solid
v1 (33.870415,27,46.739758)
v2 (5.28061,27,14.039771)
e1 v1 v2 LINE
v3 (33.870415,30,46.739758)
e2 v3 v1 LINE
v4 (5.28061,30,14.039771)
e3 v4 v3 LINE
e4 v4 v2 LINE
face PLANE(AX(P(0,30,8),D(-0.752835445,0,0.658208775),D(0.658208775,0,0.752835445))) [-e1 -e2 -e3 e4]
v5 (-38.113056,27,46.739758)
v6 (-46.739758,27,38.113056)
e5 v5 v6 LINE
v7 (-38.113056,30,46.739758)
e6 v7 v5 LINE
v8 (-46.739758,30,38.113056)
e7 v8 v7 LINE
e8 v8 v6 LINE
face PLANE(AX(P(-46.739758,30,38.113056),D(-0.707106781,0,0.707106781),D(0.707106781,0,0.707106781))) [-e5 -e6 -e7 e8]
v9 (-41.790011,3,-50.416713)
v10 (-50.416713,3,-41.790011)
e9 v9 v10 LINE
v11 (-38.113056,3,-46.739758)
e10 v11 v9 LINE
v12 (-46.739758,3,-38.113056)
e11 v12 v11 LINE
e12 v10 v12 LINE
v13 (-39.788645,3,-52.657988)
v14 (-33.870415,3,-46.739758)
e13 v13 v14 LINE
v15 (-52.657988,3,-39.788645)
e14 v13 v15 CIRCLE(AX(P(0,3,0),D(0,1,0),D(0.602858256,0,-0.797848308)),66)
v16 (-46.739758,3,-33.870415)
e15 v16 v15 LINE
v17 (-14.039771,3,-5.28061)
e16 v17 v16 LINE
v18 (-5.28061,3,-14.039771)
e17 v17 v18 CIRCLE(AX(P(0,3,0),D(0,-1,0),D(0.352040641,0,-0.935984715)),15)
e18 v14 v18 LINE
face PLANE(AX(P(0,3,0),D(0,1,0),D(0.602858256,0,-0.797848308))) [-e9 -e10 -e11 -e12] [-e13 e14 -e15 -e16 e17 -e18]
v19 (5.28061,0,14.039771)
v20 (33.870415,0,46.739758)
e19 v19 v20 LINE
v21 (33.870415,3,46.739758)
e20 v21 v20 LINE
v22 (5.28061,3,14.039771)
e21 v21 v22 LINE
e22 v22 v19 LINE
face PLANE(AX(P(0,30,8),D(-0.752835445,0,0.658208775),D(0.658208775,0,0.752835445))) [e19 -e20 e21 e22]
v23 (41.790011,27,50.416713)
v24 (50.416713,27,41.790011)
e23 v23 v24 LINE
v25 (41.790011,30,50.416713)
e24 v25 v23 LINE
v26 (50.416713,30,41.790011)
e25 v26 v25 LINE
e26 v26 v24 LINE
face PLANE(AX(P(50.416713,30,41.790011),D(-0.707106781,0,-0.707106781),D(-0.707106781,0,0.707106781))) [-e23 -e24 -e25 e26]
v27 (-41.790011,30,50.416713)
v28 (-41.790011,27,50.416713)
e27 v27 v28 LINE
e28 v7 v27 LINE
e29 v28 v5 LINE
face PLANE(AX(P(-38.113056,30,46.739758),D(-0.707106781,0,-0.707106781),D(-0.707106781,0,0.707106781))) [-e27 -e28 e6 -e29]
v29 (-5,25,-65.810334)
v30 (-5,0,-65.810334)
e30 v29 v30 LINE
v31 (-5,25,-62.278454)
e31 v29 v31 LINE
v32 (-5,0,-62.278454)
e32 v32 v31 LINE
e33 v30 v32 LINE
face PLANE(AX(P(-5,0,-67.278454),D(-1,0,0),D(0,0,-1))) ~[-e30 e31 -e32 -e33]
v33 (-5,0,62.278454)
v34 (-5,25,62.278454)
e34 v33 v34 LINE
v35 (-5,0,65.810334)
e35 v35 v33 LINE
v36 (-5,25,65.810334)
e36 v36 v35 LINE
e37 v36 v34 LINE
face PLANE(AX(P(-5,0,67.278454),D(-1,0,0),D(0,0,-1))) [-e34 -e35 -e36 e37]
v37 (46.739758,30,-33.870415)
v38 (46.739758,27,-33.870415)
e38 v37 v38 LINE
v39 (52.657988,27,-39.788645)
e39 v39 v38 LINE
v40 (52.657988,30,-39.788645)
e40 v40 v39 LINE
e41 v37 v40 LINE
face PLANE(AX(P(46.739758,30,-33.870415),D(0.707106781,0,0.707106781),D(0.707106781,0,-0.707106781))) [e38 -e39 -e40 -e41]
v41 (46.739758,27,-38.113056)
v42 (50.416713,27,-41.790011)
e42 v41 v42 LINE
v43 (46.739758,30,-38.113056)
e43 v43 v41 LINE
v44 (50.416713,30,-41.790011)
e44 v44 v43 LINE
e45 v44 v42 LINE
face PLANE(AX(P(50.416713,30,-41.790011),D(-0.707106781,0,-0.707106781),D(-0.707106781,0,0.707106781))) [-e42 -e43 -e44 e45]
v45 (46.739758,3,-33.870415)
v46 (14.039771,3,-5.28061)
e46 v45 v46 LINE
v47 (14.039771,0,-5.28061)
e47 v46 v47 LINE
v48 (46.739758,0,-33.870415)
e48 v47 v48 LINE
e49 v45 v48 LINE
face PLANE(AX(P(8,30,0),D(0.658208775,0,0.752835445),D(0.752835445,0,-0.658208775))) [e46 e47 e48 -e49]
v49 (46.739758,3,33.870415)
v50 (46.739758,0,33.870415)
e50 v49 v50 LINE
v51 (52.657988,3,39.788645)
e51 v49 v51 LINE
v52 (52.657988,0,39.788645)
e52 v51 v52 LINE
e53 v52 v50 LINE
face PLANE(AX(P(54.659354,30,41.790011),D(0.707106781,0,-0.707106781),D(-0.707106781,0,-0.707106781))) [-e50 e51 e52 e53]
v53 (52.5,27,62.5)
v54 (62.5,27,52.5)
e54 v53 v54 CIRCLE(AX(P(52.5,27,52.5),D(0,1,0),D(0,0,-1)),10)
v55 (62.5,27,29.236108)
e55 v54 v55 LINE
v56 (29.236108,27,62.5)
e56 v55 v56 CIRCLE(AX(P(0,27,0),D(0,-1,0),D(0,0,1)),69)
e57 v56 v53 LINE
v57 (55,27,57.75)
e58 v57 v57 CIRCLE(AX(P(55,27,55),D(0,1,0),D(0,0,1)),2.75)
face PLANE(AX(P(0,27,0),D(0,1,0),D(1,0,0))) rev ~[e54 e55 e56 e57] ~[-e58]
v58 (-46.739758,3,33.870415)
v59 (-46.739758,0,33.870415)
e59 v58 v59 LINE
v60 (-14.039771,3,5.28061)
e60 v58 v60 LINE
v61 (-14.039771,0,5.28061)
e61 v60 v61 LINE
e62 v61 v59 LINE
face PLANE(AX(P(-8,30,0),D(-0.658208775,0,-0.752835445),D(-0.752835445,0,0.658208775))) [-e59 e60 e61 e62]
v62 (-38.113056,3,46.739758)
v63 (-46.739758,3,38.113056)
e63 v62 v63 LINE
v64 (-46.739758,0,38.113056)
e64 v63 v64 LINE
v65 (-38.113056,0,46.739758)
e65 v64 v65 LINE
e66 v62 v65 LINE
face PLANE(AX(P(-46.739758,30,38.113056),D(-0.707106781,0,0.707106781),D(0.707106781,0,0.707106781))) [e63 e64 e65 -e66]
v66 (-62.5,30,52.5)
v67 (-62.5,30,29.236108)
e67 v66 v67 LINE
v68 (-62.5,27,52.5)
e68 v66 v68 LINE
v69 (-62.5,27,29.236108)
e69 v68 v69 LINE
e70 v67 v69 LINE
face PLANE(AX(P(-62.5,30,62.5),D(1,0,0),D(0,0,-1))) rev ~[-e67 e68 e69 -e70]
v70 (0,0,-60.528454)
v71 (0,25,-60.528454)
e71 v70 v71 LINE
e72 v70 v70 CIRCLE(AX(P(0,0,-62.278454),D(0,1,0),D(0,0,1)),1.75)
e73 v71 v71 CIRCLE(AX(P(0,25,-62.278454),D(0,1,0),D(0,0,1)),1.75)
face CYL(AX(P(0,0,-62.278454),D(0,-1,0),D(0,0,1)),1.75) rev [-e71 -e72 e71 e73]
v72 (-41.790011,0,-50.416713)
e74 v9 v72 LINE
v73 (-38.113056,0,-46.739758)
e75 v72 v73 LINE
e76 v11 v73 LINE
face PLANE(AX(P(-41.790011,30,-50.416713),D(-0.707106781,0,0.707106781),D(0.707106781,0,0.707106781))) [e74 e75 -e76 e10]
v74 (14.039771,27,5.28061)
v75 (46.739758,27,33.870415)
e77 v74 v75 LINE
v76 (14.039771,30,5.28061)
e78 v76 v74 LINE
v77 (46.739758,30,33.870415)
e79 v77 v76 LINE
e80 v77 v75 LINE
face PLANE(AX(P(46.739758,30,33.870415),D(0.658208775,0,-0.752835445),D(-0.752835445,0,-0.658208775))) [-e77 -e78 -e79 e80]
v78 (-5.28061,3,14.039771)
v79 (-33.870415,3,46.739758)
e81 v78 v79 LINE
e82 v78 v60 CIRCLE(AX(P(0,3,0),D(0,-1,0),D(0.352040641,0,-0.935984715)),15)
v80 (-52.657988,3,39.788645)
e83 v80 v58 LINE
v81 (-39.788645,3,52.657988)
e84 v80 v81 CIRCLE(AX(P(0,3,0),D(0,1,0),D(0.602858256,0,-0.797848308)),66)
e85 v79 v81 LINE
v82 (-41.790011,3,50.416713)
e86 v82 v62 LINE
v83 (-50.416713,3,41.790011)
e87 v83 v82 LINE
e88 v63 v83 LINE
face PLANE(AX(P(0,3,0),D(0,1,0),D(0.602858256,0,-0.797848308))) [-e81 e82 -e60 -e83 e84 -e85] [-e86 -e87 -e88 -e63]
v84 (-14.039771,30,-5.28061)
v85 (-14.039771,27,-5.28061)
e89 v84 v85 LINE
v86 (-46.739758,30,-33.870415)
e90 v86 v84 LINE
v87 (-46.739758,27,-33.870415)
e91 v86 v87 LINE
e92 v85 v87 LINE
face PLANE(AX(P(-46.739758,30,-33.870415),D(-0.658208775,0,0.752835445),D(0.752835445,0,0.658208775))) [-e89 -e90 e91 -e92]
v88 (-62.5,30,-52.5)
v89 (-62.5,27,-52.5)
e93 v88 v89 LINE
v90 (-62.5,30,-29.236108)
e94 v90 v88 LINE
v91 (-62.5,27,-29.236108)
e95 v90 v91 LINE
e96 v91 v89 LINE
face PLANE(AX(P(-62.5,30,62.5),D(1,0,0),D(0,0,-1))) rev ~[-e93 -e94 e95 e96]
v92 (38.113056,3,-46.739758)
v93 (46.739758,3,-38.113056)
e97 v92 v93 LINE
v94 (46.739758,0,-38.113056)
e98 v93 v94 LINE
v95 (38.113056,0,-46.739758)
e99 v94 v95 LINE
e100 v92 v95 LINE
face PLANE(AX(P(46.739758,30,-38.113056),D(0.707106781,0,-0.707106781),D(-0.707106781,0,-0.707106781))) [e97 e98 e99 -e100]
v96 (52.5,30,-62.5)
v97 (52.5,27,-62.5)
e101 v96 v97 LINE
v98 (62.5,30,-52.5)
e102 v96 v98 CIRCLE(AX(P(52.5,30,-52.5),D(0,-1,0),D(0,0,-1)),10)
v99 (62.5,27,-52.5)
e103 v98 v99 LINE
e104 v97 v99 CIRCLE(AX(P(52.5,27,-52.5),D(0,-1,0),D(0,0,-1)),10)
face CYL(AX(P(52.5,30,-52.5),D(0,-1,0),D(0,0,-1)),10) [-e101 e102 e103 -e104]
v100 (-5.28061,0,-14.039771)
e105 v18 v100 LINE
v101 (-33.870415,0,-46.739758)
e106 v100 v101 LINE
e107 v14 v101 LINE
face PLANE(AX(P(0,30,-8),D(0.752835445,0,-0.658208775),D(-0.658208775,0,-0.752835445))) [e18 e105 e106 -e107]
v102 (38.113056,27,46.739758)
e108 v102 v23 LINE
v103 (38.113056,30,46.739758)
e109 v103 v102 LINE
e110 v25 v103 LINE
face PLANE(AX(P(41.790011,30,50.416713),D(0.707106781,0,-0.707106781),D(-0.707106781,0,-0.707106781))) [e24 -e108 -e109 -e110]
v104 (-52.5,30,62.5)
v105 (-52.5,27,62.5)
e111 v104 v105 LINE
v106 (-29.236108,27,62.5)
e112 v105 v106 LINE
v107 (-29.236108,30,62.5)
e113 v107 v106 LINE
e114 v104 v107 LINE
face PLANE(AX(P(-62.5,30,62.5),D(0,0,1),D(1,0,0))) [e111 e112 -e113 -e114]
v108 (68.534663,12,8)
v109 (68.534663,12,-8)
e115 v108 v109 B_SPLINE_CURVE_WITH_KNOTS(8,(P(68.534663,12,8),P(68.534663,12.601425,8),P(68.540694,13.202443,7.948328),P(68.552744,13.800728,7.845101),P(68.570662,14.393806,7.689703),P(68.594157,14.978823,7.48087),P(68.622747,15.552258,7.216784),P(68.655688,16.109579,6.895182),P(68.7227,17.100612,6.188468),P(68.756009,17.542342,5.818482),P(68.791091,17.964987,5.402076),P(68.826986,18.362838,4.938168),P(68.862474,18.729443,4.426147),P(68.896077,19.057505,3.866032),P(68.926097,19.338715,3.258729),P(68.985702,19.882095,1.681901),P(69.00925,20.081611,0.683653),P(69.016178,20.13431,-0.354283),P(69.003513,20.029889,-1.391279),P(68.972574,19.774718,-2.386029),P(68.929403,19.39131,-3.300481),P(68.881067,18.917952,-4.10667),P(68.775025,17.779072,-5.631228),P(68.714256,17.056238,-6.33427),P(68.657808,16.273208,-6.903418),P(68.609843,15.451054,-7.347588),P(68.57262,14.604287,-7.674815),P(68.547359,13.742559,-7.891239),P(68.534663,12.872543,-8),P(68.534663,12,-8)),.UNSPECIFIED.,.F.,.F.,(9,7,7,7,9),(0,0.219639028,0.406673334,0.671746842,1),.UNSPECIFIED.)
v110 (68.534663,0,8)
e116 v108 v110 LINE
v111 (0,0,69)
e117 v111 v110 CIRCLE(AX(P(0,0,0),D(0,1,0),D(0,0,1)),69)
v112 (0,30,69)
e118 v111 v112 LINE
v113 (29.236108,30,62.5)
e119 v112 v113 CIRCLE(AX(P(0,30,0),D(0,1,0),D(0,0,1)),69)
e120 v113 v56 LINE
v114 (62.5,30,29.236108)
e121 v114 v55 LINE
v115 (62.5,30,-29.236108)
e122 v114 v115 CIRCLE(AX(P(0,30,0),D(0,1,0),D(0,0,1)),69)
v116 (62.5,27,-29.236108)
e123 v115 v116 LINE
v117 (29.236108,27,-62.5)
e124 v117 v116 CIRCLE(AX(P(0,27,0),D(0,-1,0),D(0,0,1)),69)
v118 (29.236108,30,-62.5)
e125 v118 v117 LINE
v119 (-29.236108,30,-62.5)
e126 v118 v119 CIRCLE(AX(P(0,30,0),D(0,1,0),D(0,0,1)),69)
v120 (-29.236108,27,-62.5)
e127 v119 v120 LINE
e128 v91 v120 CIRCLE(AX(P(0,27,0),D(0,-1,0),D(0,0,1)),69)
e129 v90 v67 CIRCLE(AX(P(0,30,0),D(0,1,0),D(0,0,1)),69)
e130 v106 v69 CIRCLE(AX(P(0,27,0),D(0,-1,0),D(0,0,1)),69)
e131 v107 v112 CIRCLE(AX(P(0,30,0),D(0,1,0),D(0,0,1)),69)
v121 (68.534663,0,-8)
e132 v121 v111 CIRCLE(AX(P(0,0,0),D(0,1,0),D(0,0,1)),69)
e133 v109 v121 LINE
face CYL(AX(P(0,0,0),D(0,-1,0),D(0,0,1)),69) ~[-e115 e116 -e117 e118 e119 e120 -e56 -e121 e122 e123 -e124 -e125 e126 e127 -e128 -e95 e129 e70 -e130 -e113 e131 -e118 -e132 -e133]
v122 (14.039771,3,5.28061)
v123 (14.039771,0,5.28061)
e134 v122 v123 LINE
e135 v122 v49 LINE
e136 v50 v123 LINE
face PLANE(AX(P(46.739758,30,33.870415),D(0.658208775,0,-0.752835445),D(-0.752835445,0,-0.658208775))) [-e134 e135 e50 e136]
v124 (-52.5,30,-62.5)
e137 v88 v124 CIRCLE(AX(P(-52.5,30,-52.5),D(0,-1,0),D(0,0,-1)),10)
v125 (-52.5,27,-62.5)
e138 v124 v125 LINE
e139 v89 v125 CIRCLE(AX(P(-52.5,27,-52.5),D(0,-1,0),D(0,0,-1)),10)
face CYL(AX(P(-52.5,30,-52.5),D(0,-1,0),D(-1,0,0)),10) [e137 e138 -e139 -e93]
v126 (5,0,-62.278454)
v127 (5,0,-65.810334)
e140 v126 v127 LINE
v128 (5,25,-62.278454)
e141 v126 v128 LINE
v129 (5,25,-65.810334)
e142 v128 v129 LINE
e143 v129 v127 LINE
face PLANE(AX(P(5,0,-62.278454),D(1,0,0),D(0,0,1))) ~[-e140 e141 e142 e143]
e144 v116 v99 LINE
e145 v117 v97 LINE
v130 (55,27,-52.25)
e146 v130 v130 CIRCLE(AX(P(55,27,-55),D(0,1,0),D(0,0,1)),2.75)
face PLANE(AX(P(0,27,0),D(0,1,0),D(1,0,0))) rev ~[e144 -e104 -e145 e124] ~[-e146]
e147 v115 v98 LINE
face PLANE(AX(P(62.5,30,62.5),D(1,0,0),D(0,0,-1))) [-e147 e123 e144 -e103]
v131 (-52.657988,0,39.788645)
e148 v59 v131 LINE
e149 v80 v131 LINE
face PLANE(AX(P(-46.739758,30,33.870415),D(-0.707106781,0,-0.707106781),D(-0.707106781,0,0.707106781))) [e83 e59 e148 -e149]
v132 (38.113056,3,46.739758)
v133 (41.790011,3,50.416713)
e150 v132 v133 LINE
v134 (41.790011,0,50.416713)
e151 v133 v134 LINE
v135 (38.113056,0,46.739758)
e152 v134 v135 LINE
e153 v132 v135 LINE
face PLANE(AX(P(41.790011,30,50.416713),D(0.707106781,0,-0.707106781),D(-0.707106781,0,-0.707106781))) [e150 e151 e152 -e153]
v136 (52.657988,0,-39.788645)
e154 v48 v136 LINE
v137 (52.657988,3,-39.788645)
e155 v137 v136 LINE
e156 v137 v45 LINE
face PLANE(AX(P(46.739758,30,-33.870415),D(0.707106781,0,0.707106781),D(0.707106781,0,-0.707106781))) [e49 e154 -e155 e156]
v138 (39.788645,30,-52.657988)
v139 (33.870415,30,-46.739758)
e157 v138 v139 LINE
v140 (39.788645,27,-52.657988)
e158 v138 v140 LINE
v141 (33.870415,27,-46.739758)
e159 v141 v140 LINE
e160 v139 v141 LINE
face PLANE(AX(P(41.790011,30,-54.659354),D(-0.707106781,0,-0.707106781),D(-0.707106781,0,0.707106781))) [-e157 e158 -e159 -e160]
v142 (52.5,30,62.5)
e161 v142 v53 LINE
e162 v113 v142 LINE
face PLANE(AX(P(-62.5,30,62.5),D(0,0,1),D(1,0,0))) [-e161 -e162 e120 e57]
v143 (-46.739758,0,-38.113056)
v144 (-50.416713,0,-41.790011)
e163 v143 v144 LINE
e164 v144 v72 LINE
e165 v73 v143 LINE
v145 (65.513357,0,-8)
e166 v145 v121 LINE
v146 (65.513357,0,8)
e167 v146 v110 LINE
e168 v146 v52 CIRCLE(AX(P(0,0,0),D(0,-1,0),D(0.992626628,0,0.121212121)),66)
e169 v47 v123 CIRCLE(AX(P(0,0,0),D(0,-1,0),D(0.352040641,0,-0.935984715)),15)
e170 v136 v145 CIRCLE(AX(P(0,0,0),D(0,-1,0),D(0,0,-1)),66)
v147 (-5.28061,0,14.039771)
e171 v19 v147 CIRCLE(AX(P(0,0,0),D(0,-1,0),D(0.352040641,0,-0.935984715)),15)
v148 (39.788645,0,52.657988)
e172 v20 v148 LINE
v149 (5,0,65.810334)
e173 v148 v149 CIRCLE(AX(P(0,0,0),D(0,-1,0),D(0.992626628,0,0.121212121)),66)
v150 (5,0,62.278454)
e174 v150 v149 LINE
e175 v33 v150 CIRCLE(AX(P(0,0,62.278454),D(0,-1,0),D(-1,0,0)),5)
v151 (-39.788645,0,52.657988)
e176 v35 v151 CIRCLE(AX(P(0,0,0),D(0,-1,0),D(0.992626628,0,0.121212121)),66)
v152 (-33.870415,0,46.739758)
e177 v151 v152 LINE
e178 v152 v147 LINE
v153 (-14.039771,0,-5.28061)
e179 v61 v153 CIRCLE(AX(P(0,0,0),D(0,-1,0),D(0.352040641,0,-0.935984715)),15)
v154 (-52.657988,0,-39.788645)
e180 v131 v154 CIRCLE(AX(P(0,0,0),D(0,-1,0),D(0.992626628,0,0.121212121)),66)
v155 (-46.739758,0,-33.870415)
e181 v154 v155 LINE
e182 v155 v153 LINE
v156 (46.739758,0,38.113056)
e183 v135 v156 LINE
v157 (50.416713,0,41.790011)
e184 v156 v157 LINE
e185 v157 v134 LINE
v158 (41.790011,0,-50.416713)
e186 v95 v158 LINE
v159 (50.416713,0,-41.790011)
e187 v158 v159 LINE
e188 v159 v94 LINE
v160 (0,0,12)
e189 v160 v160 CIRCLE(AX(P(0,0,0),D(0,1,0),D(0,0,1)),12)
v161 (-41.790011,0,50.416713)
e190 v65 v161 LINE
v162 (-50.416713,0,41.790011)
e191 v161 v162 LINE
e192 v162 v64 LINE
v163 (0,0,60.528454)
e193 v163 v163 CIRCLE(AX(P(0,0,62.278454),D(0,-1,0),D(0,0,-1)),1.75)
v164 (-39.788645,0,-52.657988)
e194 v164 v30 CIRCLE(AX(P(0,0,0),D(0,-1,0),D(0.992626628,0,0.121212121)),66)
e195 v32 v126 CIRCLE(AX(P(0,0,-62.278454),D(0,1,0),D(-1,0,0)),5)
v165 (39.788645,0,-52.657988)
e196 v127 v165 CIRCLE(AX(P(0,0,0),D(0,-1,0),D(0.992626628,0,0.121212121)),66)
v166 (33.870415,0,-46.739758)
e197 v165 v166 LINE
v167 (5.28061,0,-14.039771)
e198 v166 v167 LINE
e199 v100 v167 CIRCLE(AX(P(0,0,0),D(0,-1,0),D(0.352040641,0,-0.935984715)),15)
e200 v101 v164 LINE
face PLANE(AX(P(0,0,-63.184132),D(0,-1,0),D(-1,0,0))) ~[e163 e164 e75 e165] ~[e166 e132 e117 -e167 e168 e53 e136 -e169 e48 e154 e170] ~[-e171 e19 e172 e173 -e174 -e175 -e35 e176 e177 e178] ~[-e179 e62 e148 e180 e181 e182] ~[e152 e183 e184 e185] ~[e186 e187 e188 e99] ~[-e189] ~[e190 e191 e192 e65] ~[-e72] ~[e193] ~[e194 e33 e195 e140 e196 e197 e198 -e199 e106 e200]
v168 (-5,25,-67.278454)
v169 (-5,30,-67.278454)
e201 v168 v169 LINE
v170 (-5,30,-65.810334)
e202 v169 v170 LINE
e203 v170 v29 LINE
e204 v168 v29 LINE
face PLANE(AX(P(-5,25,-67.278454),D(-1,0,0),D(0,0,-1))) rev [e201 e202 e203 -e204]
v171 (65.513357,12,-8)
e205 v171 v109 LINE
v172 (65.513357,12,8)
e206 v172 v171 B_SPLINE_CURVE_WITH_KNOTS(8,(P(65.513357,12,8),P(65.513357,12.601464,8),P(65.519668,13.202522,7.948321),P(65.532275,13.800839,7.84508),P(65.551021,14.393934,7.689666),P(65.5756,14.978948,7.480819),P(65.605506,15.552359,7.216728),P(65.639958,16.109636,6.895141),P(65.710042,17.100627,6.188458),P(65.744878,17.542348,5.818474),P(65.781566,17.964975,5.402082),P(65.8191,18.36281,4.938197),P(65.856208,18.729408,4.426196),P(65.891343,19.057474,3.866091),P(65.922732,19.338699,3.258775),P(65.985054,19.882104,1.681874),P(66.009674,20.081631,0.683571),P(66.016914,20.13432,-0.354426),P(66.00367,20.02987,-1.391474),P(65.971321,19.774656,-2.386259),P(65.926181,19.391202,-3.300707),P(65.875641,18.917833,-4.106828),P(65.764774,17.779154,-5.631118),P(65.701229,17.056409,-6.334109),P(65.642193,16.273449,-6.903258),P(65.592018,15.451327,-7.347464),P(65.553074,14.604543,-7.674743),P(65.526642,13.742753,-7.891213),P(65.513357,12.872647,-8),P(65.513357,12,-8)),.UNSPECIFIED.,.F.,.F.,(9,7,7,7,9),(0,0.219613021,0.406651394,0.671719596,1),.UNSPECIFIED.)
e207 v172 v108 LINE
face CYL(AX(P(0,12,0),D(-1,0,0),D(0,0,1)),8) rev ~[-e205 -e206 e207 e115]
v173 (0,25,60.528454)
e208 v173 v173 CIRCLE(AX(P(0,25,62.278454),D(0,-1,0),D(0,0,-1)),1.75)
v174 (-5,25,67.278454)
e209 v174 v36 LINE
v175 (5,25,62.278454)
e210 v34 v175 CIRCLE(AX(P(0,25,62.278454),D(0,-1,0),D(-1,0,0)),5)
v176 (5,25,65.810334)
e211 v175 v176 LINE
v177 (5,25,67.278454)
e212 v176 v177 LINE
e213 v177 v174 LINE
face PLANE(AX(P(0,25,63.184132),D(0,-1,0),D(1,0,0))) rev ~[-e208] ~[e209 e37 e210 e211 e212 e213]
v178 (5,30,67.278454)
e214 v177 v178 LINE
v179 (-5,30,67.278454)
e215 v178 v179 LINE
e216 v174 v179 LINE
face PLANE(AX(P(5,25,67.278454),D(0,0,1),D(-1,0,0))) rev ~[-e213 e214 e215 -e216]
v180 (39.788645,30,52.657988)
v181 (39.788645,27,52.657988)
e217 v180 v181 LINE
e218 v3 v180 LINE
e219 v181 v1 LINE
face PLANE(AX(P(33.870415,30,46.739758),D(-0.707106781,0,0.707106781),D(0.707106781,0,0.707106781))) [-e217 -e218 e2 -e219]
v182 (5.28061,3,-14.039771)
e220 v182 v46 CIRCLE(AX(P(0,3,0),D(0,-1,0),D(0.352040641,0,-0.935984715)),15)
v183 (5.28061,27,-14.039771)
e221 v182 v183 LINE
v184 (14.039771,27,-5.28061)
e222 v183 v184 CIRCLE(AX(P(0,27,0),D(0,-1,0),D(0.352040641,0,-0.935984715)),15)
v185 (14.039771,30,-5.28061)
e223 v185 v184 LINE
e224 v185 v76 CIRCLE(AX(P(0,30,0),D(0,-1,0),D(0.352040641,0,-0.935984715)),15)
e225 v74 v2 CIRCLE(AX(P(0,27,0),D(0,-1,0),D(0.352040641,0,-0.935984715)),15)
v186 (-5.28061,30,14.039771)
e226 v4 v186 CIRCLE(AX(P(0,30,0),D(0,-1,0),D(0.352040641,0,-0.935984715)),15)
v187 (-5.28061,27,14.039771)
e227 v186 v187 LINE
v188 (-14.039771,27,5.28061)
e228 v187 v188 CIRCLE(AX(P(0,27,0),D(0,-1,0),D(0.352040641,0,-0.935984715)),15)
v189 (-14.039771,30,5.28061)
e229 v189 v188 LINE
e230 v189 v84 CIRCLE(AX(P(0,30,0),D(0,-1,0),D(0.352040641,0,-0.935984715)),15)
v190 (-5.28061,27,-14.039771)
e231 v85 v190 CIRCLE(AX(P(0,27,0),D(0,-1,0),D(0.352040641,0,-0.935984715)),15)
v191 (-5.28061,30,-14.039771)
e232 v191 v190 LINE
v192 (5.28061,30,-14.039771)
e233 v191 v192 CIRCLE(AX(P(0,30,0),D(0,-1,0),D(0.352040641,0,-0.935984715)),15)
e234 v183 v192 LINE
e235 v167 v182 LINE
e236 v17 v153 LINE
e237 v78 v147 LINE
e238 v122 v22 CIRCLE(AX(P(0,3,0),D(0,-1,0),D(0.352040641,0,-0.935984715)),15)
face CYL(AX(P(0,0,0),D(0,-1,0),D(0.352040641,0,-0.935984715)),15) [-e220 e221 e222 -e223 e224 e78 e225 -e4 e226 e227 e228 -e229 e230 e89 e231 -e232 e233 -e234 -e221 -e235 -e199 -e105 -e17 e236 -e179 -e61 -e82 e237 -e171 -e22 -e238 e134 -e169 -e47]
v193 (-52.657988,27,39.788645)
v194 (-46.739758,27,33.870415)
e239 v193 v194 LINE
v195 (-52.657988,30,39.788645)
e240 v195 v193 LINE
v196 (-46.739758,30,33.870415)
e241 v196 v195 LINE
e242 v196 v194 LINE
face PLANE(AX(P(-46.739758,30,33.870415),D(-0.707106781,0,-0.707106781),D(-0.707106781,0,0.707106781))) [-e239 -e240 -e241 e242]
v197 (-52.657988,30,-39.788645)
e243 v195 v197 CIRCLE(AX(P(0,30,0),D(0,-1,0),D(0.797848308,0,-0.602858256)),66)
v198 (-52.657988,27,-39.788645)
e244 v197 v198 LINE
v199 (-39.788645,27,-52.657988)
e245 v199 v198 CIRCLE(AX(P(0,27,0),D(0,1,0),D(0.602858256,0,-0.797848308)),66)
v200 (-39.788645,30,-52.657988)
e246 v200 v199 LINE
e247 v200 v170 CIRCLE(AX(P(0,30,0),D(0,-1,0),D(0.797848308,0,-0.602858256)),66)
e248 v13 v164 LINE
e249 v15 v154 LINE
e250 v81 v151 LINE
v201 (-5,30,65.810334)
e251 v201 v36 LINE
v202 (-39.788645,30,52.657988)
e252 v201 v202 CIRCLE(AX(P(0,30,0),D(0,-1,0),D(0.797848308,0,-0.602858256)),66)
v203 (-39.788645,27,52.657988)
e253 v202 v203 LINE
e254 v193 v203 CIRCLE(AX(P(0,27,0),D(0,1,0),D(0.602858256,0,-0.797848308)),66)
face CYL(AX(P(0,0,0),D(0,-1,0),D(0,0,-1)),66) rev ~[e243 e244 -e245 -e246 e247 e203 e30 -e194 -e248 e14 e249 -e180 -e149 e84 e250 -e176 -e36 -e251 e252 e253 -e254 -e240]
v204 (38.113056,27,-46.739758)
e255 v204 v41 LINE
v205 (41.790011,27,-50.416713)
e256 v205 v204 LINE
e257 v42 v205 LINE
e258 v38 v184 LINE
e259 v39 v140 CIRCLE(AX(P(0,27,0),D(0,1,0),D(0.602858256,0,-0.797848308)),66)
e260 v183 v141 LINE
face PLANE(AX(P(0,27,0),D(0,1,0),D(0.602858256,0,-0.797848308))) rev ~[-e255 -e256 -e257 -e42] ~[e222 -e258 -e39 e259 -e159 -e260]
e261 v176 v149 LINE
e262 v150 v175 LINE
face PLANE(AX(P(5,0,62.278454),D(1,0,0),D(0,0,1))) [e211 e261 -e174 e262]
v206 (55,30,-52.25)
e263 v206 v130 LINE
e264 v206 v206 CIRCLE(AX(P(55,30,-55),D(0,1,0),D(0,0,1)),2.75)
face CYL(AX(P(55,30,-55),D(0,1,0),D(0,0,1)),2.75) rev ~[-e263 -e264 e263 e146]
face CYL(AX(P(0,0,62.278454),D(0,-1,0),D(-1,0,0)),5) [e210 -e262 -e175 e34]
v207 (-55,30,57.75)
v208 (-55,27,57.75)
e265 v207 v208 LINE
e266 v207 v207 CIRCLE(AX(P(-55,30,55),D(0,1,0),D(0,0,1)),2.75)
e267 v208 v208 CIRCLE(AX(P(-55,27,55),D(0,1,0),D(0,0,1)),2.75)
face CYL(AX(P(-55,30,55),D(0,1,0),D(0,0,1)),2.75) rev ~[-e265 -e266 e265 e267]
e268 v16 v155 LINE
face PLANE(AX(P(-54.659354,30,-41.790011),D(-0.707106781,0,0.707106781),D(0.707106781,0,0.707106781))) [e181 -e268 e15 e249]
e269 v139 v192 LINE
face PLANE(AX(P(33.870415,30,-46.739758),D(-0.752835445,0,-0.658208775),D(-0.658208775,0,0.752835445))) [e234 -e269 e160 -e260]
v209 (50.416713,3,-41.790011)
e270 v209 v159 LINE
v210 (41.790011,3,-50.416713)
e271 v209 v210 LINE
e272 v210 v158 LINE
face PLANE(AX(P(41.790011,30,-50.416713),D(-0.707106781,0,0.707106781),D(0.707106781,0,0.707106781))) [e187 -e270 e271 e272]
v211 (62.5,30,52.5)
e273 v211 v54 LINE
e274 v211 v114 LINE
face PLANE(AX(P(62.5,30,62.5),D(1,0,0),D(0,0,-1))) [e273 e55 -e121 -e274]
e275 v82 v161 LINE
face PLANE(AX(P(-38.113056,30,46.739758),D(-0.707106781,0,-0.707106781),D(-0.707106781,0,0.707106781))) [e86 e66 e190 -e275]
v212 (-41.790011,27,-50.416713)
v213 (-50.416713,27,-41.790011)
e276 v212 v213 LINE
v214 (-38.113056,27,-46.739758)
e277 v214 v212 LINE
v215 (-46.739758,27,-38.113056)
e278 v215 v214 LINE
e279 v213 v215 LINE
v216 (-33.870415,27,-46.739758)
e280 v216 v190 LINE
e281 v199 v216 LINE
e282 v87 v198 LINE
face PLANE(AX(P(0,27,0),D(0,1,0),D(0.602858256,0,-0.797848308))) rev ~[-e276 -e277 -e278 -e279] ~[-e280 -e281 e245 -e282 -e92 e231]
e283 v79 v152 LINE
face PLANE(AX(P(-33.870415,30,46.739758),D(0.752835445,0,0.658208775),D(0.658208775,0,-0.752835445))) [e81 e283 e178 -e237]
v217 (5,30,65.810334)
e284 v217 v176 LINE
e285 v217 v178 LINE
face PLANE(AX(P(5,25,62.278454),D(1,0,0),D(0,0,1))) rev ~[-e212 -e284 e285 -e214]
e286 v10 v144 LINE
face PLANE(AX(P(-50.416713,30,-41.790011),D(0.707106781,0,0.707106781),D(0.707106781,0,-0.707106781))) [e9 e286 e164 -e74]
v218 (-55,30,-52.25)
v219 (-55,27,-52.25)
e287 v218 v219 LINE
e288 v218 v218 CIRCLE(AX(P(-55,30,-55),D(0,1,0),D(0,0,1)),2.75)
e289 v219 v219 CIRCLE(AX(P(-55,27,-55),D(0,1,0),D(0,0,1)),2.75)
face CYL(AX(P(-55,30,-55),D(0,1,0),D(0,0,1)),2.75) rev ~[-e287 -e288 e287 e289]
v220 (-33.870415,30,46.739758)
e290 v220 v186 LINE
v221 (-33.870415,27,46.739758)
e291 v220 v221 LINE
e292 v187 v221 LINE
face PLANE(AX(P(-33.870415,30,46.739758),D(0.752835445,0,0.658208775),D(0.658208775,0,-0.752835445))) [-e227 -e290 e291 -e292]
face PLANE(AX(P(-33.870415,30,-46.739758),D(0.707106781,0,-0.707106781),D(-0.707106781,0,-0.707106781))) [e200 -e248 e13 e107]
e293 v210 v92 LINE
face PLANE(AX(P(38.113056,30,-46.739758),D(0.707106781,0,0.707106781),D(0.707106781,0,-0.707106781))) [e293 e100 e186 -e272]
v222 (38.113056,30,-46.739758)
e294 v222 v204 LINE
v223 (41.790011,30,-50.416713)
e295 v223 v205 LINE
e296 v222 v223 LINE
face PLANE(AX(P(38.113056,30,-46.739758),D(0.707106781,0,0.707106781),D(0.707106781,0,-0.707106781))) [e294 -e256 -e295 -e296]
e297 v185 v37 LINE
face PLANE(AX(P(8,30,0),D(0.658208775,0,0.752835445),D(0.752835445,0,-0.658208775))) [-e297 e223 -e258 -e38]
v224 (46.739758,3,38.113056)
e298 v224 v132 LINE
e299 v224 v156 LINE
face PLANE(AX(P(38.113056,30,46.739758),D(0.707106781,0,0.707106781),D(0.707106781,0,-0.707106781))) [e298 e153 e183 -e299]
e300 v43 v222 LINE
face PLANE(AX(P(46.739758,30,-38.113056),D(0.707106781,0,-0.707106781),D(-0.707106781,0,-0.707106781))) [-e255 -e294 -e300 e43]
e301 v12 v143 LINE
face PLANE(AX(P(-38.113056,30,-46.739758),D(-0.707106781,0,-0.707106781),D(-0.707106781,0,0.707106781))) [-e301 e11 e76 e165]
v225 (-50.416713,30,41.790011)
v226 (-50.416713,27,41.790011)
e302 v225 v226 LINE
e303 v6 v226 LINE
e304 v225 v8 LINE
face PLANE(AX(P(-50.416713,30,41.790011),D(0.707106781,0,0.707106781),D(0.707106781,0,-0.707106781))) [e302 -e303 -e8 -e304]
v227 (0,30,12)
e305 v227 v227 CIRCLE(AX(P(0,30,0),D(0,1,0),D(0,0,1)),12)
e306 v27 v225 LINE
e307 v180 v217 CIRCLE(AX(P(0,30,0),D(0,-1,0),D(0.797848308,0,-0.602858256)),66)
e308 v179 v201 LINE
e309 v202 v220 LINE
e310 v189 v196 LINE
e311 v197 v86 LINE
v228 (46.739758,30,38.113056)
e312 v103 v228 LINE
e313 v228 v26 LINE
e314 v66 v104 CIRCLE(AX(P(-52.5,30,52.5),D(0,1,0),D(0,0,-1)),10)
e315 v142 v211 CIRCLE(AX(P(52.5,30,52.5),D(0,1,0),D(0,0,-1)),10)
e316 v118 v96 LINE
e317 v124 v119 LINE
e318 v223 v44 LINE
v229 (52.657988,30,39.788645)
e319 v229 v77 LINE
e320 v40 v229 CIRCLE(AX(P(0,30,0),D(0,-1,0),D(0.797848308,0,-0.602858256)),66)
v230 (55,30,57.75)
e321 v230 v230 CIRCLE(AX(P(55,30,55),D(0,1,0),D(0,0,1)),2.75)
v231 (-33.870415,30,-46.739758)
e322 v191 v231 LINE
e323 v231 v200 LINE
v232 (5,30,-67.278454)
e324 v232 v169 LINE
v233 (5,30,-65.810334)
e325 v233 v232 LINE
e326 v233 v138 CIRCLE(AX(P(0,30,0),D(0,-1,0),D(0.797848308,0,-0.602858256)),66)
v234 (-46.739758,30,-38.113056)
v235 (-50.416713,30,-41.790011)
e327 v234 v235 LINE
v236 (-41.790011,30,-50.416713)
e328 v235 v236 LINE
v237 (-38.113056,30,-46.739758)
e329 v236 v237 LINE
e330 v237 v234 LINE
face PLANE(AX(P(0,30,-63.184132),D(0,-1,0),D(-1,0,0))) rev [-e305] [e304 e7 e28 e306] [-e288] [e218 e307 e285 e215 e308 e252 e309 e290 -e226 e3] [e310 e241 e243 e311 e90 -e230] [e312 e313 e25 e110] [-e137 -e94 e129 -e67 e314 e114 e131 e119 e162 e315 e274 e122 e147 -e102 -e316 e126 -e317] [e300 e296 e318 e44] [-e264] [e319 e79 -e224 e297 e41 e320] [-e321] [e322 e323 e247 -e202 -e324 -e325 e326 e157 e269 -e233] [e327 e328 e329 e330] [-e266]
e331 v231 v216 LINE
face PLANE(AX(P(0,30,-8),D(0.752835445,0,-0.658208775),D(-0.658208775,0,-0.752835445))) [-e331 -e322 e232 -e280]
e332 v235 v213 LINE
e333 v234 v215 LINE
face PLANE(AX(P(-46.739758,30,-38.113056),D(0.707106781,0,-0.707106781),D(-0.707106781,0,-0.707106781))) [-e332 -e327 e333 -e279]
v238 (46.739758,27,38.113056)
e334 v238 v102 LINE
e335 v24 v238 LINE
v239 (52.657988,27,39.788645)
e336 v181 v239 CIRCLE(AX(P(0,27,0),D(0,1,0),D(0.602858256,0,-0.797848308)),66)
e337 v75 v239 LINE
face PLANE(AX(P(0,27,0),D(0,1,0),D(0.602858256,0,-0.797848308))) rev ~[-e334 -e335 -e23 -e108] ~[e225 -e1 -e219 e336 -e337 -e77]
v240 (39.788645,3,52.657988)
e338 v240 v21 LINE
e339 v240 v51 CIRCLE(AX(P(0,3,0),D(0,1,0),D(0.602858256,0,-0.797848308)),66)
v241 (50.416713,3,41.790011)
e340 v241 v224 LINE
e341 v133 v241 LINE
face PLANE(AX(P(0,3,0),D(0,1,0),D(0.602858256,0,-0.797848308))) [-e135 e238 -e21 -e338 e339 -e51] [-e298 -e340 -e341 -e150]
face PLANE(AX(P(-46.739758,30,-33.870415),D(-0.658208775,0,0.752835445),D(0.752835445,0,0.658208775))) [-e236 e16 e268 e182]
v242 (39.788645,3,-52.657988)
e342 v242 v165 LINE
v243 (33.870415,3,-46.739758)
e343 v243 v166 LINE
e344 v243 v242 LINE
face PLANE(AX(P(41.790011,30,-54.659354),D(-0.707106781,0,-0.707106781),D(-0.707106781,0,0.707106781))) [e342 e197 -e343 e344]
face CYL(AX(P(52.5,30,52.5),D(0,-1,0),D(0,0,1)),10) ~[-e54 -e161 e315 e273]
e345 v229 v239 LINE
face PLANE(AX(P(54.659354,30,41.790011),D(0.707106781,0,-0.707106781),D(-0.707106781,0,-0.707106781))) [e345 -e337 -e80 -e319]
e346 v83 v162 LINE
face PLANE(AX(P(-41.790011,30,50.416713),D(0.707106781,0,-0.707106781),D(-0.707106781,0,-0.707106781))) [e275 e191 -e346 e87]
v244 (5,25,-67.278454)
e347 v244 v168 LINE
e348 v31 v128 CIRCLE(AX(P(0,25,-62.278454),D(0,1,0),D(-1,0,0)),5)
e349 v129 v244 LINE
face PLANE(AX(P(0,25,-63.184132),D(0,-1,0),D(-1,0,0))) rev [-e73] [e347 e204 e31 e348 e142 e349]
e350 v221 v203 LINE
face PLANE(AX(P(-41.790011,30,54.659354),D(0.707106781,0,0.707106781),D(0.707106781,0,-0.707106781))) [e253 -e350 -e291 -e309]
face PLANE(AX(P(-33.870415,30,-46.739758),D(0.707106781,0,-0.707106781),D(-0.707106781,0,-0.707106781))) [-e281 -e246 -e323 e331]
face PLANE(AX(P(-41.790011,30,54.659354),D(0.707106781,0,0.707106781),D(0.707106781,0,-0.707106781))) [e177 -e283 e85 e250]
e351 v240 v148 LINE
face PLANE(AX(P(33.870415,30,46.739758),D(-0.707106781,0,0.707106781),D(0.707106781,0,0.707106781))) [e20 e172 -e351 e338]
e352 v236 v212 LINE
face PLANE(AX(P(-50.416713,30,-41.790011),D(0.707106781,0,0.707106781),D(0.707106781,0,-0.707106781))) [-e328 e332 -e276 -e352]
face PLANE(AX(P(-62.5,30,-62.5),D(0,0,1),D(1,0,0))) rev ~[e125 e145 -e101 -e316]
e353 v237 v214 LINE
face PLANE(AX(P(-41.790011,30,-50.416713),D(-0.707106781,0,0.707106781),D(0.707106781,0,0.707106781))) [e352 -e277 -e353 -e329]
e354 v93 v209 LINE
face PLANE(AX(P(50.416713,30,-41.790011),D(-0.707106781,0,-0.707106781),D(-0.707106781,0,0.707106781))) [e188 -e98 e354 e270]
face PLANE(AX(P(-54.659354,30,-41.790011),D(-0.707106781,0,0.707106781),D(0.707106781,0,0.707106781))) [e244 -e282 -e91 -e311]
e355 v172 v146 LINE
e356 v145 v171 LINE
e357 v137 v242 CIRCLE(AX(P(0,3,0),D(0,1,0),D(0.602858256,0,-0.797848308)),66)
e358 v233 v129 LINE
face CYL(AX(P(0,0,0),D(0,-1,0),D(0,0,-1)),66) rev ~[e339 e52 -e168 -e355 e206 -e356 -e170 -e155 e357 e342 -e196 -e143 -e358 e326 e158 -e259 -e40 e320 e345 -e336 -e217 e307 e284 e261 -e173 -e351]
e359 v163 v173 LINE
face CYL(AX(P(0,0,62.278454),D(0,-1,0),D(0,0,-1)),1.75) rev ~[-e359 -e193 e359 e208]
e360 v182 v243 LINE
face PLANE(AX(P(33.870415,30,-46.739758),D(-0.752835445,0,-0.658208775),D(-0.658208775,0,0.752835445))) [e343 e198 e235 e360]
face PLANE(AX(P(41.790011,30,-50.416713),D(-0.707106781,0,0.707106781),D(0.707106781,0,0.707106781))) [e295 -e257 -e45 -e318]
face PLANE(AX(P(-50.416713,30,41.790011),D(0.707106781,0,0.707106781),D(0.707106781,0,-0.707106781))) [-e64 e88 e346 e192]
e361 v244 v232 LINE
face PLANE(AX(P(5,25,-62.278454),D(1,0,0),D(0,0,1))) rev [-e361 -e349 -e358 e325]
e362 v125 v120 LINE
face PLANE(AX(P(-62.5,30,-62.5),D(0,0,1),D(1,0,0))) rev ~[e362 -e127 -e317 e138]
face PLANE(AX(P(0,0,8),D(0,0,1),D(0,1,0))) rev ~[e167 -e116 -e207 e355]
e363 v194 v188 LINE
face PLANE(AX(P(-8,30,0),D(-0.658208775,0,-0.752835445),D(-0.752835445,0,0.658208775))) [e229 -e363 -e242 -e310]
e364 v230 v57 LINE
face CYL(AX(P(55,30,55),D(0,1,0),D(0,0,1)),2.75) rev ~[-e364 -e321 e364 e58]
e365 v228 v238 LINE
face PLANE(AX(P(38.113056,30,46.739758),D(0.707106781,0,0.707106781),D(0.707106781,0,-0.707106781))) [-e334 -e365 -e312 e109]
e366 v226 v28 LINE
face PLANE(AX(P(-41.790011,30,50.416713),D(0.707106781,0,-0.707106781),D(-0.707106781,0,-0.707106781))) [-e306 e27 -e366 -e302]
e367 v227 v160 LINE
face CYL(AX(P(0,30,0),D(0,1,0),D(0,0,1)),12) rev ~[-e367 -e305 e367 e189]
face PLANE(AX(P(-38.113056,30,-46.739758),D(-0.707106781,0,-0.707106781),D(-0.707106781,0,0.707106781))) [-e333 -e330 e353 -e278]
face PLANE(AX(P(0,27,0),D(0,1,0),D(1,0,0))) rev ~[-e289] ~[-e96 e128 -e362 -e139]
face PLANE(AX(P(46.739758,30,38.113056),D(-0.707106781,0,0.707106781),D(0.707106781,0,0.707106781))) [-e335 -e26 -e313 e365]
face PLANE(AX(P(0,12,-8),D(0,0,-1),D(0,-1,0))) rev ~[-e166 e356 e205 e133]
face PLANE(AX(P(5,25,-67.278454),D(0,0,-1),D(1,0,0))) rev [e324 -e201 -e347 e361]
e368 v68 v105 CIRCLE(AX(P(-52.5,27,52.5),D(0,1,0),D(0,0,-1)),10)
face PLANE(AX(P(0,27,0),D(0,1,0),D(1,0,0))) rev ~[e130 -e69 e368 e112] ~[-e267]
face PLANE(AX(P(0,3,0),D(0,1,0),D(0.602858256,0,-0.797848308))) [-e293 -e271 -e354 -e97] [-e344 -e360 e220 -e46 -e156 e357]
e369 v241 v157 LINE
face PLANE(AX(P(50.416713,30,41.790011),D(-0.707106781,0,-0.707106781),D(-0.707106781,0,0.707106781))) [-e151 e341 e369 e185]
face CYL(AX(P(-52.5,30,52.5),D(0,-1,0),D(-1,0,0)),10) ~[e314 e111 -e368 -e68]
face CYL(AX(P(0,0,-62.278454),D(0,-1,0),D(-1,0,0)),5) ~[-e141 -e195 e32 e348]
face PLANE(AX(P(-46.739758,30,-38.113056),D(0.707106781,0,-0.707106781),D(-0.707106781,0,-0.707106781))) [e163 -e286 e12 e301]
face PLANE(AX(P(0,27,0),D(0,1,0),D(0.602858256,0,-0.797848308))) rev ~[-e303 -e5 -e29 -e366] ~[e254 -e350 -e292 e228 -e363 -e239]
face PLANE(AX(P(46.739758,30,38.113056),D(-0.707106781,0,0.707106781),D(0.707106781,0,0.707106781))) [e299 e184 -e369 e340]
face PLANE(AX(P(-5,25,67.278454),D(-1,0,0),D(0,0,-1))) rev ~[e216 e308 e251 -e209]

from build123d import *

# Parameters (mm, degrees)
SKETCH1_R               = 69
BOSS_EXTRUDE1_DEPTH     = 30
SKETCH2_W               = 125
SKETCH2_H               = 125
BOSS_EXTRUDE2_DEPTH     = 3
SKETCH3_R               = 2.75
CUT_EXTRUDE1_DEPTH      = 3
SKETCH4_R               = 66
CUT_EXTRUDE2_DEPTH      = 103.088197163
FILLET1_R               = 10
CUT_EXTRUDE3_DEPTH      = 103.088197163
BOSS_EXTRUDE4_DEPTH     = 30
CIRPATTERN2_COUNT       = 4
BOSS_EXTRUDE5_DEPTH     = 30
CUT_EXTRUDE4_DEPTH      = 12
CUT_EXTRUDE4_DEPTH_BACK = 12
SKETCH10_R              = 66
SKETCH11_R              = 15
BOSS_EXTRUDE6_DEPTH     = 30
SKETCH12_R              = 1.75
BOSS_EXTRUDE9_DEPTH     = 30
CUT_EXTRUDE5_START      = -25
SKETCH12_3_R            = 1.75
CUT_EXTRUDE5_DEPTH      = 5
SKETCH14_R              = 12
CUT_EXTRUDE6_DEPTH      = 103.088197329


with BuildPart() as part:
    # Sketch1 → Boss-Extrude1 (new body)
    with BuildSketch(Plane(origin=(0, 0, 0), x_dir=(1, 0, 0), z_dir=(0, 1, 0))):
        with Locations(Location((0, 0, 0), (0, 0, 270))):
            Circle(SKETCH1_R)
    extrude(amount=BOSS_EXTRUDE1_DEPTH)

    # Sketch2 → Boss-Extrude2 (add)
    with BuildSketch(Plane(origin=(0, 30, 0), x_dir=(1, 0, 0), z_dir=(0, 1, 0))):
        Rectangle(SKETCH2_W, SKETCH2_H)
    extrude(amount=-BOSS_EXTRUDE2_DEPTH)

    # Sketch3 → Cut-Extrude1 (cut)
    with BuildSketch(Plane(origin=(0, 30, 0), x_dir=(1, 0, 0), z_dir=(0, 1, 0))):
        with Locations(Location((55, 55, 0), (0, 0, 270))):
            Circle(SKETCH3_R)
        with Locations(Location((-55, 55, 0), (0, 0, 270))):
            Circle(SKETCH3_R)
        with Locations(Location((-55, -55, 0), (0, 0, 270))):
            Circle(SKETCH3_R)
        with Locations(Location((55, -55, 0), (0, 0, 270))):
            Circle(SKETCH3_R)
    extrude(amount=-CUT_EXTRUDE1_DEPTH, mode=Mode.SUBTRACT)

    # Sketch4 → Cut-Extrude2 (cut, through all)
    with BuildSketch(Plane.XZ):
        with Locations(Location((0, 0, 0), (0, 0, 270))):
            Circle(SKETCH4_R)
    extrude(amount=-CUT_EXTRUDE2_DEPTH, mode=Mode.SUBTRACT)

    # Fillet1
    fillet1_edges = [part.edges().sort_by_distance(p)[0] for p in [
        (-62.5, 28.5, 62.5),
        (-62.5, 28.5, -62.5),
        (62.5, 28.5, -62.5),
        (62.5, 28.5, 62.5),
    ]]
    fillet(fillet1_edges, radius=FILLET1_R)

    # Sketch6 → Cut-Extrude3 (cut, through all)
    with BuildSketch(Plane(origin=(0, 0, 0), x_dir=(0, 0, -1), z_dir=(1, 0, 0))):
        with BuildLine():
            Line((-8, 0), (-8, 12))
            ThreePointArc((-8, 12), (0, 20), (8, 12))
            Line((8, 12), (8, 0))
            ThreePointArc((8, 0), (0, -8), (-8, 0))
        make_face()
    extrude(amount=CUT_EXTRUDE3_DEPTH, mode=Mode.SUBTRACT)

    # Sketch8 → Boss-Extrude4 (add)
    with BuildSketch(Plane(origin=(0, 30, 0), x_dir=(1, 0, 0), z_dir=(0, 1, 0))):
        Polygon((41.790010768, 54.659354186), (33.870414819, 46.739758236), (46.739758236, 33.870414819), (54.659354186, 41.790010768), align=None)
        Polygon((41.790010768, 50.416713499), (50.416713499, 41.790010768), (46.739758236, 38.113055506), (38.113055506, 46.739758236), align=None, mode=Mode.SUBTRACT)
    boss_extrude4 = extrude(amount=-BOSS_EXTRUDE4_DEPTH)

    # CirPattern2: Boss-Extrude4 ×4 about axis
    cirpattern2_axis = Axis((0, 0, 0), (0, 1, 0))
    for i in range(1, CIRPATTERN2_COUNT):
        add(boss_extrude4.rotate(cirpattern2_axis, i * 360 / CIRPATTERN2_COUNT))

    # Sketch9 → Boss-Extrude5 (add)
    with BuildSketch(Plane(origin=(0, 30, 0), x_dir=(1, 0, 0), z_dir=(0, 1, 0))):
        Polygon((46.739758236, 33.870414819), (33.870414819, 46.739758236), (0, 8), (-33.870414819, 46.739758236), (-46.739758236, 33.870414819), (-8, 0), (-46.739758236, -33.870414819), (-33.870414819, -46.739758236), (0, -8), (33.870414819, -46.739758236), (46.739758236, -33.870414819), (8, 0), align=None)
    extrude(amount=-BOSS_EXTRUDE5_DEPTH)

    # Sketch10 → Cut-Extrude4 (cut, two sides: drawn at the far end of the back side and taken through both)
    with BuildSketch(Plane(origin=(0, 15, 0), x_dir=(1, 0, 0), z_dir=(0, 1, 0)).offset(-CUT_EXTRUDE4_DEPTH_BACK)):
        with Locations(Location((0, 0, 0), (0, 0, 52.925119379))):
            Circle(SKETCH10_R)
    extrude(amount=CUT_EXTRUDE4_DEPTH + CUT_EXTRUDE4_DEPTH_BACK, mode=Mode.SUBTRACT)

    # Sketch11 → Boss-Extrude6 (add)
    with BuildSketch(Plane.XZ):
        with Locations(Location((0, 0, 0), (0, 0, 290.612180744))):
            Circle(SKETCH11_R)
    extrude(amount=-BOSS_EXTRUDE6_DEPTH)

    # Sketch12 → Boss-Extrude9 (add)
    with BuildSketch(Plane.XZ):
        with BuildLine():
            Line((5, 62.278453748), (5, 67.278453748))
            Line((5, 67.278453748), (-5, 67.278453748))
            Line((-5, 67.278453748), (-5, 62.278453748))
            ThreePointArc((-5, 62.278453748), (0, 57.278453748), (5, 62.278453748))
        make_face()
        with Locations(Location((0, 62.278453748, 0), (0, 0, 270))):
            Circle(SKETCH12_R, mode=Mode.SUBTRACT)
    boss_extrude9 = extrude(amount=-BOSS_EXTRUDE9_DEPTH)

    # Mirror1: Boss-Extrude9 across plane
    add(boss_extrude9.mirror(Plane.XY))

    # Sketch12<3> → Cut-Extrude5 (cut)
    with BuildSketch(Plane.XZ.offset(CUT_EXTRUDE5_START)):
        with BuildLine():
            Line((5, 62.278453748), (5, 67.278453748))
            Line((5, 67.278453748), (-5, 67.278453748))
            Line((-5, 67.278453748), (-5, 62.278453748))
            ThreePointArc((-5, 62.278453748), (0, 57.278453748), (5, 62.278453748))
        make_face()
        with Locations(Location((0, 62.278453748, 0), (0, 0, 270))):
            Circle(SKETCH12_3_R, mode=Mode.SUBTRACT)
    cut_extrude5 = extrude(amount=-CUT_EXTRUDE5_DEPTH, mode=Mode.SUBTRACT)

    # Mirror2: Cut-Extrude5 across plane
    add(cut_extrude5.mirror(Plane.XY), mode=Mode.SUBTRACT)

    # Sketch14 → Cut-Extrude6 (cut, through all)
    with BuildSketch(Plane(origin=(0, 30, 0), x_dir=(1, 0, 0), z_dir=(0, 1, 0))):
        with Locations(Location((0, 0, 0), (0, 0, 270))):
            Circle(SKETCH14_R)
    extrude(amount=-CUT_EXTRUDE6_DEPTH, mode=Mode.SUBTRACT)


solid = part.part
